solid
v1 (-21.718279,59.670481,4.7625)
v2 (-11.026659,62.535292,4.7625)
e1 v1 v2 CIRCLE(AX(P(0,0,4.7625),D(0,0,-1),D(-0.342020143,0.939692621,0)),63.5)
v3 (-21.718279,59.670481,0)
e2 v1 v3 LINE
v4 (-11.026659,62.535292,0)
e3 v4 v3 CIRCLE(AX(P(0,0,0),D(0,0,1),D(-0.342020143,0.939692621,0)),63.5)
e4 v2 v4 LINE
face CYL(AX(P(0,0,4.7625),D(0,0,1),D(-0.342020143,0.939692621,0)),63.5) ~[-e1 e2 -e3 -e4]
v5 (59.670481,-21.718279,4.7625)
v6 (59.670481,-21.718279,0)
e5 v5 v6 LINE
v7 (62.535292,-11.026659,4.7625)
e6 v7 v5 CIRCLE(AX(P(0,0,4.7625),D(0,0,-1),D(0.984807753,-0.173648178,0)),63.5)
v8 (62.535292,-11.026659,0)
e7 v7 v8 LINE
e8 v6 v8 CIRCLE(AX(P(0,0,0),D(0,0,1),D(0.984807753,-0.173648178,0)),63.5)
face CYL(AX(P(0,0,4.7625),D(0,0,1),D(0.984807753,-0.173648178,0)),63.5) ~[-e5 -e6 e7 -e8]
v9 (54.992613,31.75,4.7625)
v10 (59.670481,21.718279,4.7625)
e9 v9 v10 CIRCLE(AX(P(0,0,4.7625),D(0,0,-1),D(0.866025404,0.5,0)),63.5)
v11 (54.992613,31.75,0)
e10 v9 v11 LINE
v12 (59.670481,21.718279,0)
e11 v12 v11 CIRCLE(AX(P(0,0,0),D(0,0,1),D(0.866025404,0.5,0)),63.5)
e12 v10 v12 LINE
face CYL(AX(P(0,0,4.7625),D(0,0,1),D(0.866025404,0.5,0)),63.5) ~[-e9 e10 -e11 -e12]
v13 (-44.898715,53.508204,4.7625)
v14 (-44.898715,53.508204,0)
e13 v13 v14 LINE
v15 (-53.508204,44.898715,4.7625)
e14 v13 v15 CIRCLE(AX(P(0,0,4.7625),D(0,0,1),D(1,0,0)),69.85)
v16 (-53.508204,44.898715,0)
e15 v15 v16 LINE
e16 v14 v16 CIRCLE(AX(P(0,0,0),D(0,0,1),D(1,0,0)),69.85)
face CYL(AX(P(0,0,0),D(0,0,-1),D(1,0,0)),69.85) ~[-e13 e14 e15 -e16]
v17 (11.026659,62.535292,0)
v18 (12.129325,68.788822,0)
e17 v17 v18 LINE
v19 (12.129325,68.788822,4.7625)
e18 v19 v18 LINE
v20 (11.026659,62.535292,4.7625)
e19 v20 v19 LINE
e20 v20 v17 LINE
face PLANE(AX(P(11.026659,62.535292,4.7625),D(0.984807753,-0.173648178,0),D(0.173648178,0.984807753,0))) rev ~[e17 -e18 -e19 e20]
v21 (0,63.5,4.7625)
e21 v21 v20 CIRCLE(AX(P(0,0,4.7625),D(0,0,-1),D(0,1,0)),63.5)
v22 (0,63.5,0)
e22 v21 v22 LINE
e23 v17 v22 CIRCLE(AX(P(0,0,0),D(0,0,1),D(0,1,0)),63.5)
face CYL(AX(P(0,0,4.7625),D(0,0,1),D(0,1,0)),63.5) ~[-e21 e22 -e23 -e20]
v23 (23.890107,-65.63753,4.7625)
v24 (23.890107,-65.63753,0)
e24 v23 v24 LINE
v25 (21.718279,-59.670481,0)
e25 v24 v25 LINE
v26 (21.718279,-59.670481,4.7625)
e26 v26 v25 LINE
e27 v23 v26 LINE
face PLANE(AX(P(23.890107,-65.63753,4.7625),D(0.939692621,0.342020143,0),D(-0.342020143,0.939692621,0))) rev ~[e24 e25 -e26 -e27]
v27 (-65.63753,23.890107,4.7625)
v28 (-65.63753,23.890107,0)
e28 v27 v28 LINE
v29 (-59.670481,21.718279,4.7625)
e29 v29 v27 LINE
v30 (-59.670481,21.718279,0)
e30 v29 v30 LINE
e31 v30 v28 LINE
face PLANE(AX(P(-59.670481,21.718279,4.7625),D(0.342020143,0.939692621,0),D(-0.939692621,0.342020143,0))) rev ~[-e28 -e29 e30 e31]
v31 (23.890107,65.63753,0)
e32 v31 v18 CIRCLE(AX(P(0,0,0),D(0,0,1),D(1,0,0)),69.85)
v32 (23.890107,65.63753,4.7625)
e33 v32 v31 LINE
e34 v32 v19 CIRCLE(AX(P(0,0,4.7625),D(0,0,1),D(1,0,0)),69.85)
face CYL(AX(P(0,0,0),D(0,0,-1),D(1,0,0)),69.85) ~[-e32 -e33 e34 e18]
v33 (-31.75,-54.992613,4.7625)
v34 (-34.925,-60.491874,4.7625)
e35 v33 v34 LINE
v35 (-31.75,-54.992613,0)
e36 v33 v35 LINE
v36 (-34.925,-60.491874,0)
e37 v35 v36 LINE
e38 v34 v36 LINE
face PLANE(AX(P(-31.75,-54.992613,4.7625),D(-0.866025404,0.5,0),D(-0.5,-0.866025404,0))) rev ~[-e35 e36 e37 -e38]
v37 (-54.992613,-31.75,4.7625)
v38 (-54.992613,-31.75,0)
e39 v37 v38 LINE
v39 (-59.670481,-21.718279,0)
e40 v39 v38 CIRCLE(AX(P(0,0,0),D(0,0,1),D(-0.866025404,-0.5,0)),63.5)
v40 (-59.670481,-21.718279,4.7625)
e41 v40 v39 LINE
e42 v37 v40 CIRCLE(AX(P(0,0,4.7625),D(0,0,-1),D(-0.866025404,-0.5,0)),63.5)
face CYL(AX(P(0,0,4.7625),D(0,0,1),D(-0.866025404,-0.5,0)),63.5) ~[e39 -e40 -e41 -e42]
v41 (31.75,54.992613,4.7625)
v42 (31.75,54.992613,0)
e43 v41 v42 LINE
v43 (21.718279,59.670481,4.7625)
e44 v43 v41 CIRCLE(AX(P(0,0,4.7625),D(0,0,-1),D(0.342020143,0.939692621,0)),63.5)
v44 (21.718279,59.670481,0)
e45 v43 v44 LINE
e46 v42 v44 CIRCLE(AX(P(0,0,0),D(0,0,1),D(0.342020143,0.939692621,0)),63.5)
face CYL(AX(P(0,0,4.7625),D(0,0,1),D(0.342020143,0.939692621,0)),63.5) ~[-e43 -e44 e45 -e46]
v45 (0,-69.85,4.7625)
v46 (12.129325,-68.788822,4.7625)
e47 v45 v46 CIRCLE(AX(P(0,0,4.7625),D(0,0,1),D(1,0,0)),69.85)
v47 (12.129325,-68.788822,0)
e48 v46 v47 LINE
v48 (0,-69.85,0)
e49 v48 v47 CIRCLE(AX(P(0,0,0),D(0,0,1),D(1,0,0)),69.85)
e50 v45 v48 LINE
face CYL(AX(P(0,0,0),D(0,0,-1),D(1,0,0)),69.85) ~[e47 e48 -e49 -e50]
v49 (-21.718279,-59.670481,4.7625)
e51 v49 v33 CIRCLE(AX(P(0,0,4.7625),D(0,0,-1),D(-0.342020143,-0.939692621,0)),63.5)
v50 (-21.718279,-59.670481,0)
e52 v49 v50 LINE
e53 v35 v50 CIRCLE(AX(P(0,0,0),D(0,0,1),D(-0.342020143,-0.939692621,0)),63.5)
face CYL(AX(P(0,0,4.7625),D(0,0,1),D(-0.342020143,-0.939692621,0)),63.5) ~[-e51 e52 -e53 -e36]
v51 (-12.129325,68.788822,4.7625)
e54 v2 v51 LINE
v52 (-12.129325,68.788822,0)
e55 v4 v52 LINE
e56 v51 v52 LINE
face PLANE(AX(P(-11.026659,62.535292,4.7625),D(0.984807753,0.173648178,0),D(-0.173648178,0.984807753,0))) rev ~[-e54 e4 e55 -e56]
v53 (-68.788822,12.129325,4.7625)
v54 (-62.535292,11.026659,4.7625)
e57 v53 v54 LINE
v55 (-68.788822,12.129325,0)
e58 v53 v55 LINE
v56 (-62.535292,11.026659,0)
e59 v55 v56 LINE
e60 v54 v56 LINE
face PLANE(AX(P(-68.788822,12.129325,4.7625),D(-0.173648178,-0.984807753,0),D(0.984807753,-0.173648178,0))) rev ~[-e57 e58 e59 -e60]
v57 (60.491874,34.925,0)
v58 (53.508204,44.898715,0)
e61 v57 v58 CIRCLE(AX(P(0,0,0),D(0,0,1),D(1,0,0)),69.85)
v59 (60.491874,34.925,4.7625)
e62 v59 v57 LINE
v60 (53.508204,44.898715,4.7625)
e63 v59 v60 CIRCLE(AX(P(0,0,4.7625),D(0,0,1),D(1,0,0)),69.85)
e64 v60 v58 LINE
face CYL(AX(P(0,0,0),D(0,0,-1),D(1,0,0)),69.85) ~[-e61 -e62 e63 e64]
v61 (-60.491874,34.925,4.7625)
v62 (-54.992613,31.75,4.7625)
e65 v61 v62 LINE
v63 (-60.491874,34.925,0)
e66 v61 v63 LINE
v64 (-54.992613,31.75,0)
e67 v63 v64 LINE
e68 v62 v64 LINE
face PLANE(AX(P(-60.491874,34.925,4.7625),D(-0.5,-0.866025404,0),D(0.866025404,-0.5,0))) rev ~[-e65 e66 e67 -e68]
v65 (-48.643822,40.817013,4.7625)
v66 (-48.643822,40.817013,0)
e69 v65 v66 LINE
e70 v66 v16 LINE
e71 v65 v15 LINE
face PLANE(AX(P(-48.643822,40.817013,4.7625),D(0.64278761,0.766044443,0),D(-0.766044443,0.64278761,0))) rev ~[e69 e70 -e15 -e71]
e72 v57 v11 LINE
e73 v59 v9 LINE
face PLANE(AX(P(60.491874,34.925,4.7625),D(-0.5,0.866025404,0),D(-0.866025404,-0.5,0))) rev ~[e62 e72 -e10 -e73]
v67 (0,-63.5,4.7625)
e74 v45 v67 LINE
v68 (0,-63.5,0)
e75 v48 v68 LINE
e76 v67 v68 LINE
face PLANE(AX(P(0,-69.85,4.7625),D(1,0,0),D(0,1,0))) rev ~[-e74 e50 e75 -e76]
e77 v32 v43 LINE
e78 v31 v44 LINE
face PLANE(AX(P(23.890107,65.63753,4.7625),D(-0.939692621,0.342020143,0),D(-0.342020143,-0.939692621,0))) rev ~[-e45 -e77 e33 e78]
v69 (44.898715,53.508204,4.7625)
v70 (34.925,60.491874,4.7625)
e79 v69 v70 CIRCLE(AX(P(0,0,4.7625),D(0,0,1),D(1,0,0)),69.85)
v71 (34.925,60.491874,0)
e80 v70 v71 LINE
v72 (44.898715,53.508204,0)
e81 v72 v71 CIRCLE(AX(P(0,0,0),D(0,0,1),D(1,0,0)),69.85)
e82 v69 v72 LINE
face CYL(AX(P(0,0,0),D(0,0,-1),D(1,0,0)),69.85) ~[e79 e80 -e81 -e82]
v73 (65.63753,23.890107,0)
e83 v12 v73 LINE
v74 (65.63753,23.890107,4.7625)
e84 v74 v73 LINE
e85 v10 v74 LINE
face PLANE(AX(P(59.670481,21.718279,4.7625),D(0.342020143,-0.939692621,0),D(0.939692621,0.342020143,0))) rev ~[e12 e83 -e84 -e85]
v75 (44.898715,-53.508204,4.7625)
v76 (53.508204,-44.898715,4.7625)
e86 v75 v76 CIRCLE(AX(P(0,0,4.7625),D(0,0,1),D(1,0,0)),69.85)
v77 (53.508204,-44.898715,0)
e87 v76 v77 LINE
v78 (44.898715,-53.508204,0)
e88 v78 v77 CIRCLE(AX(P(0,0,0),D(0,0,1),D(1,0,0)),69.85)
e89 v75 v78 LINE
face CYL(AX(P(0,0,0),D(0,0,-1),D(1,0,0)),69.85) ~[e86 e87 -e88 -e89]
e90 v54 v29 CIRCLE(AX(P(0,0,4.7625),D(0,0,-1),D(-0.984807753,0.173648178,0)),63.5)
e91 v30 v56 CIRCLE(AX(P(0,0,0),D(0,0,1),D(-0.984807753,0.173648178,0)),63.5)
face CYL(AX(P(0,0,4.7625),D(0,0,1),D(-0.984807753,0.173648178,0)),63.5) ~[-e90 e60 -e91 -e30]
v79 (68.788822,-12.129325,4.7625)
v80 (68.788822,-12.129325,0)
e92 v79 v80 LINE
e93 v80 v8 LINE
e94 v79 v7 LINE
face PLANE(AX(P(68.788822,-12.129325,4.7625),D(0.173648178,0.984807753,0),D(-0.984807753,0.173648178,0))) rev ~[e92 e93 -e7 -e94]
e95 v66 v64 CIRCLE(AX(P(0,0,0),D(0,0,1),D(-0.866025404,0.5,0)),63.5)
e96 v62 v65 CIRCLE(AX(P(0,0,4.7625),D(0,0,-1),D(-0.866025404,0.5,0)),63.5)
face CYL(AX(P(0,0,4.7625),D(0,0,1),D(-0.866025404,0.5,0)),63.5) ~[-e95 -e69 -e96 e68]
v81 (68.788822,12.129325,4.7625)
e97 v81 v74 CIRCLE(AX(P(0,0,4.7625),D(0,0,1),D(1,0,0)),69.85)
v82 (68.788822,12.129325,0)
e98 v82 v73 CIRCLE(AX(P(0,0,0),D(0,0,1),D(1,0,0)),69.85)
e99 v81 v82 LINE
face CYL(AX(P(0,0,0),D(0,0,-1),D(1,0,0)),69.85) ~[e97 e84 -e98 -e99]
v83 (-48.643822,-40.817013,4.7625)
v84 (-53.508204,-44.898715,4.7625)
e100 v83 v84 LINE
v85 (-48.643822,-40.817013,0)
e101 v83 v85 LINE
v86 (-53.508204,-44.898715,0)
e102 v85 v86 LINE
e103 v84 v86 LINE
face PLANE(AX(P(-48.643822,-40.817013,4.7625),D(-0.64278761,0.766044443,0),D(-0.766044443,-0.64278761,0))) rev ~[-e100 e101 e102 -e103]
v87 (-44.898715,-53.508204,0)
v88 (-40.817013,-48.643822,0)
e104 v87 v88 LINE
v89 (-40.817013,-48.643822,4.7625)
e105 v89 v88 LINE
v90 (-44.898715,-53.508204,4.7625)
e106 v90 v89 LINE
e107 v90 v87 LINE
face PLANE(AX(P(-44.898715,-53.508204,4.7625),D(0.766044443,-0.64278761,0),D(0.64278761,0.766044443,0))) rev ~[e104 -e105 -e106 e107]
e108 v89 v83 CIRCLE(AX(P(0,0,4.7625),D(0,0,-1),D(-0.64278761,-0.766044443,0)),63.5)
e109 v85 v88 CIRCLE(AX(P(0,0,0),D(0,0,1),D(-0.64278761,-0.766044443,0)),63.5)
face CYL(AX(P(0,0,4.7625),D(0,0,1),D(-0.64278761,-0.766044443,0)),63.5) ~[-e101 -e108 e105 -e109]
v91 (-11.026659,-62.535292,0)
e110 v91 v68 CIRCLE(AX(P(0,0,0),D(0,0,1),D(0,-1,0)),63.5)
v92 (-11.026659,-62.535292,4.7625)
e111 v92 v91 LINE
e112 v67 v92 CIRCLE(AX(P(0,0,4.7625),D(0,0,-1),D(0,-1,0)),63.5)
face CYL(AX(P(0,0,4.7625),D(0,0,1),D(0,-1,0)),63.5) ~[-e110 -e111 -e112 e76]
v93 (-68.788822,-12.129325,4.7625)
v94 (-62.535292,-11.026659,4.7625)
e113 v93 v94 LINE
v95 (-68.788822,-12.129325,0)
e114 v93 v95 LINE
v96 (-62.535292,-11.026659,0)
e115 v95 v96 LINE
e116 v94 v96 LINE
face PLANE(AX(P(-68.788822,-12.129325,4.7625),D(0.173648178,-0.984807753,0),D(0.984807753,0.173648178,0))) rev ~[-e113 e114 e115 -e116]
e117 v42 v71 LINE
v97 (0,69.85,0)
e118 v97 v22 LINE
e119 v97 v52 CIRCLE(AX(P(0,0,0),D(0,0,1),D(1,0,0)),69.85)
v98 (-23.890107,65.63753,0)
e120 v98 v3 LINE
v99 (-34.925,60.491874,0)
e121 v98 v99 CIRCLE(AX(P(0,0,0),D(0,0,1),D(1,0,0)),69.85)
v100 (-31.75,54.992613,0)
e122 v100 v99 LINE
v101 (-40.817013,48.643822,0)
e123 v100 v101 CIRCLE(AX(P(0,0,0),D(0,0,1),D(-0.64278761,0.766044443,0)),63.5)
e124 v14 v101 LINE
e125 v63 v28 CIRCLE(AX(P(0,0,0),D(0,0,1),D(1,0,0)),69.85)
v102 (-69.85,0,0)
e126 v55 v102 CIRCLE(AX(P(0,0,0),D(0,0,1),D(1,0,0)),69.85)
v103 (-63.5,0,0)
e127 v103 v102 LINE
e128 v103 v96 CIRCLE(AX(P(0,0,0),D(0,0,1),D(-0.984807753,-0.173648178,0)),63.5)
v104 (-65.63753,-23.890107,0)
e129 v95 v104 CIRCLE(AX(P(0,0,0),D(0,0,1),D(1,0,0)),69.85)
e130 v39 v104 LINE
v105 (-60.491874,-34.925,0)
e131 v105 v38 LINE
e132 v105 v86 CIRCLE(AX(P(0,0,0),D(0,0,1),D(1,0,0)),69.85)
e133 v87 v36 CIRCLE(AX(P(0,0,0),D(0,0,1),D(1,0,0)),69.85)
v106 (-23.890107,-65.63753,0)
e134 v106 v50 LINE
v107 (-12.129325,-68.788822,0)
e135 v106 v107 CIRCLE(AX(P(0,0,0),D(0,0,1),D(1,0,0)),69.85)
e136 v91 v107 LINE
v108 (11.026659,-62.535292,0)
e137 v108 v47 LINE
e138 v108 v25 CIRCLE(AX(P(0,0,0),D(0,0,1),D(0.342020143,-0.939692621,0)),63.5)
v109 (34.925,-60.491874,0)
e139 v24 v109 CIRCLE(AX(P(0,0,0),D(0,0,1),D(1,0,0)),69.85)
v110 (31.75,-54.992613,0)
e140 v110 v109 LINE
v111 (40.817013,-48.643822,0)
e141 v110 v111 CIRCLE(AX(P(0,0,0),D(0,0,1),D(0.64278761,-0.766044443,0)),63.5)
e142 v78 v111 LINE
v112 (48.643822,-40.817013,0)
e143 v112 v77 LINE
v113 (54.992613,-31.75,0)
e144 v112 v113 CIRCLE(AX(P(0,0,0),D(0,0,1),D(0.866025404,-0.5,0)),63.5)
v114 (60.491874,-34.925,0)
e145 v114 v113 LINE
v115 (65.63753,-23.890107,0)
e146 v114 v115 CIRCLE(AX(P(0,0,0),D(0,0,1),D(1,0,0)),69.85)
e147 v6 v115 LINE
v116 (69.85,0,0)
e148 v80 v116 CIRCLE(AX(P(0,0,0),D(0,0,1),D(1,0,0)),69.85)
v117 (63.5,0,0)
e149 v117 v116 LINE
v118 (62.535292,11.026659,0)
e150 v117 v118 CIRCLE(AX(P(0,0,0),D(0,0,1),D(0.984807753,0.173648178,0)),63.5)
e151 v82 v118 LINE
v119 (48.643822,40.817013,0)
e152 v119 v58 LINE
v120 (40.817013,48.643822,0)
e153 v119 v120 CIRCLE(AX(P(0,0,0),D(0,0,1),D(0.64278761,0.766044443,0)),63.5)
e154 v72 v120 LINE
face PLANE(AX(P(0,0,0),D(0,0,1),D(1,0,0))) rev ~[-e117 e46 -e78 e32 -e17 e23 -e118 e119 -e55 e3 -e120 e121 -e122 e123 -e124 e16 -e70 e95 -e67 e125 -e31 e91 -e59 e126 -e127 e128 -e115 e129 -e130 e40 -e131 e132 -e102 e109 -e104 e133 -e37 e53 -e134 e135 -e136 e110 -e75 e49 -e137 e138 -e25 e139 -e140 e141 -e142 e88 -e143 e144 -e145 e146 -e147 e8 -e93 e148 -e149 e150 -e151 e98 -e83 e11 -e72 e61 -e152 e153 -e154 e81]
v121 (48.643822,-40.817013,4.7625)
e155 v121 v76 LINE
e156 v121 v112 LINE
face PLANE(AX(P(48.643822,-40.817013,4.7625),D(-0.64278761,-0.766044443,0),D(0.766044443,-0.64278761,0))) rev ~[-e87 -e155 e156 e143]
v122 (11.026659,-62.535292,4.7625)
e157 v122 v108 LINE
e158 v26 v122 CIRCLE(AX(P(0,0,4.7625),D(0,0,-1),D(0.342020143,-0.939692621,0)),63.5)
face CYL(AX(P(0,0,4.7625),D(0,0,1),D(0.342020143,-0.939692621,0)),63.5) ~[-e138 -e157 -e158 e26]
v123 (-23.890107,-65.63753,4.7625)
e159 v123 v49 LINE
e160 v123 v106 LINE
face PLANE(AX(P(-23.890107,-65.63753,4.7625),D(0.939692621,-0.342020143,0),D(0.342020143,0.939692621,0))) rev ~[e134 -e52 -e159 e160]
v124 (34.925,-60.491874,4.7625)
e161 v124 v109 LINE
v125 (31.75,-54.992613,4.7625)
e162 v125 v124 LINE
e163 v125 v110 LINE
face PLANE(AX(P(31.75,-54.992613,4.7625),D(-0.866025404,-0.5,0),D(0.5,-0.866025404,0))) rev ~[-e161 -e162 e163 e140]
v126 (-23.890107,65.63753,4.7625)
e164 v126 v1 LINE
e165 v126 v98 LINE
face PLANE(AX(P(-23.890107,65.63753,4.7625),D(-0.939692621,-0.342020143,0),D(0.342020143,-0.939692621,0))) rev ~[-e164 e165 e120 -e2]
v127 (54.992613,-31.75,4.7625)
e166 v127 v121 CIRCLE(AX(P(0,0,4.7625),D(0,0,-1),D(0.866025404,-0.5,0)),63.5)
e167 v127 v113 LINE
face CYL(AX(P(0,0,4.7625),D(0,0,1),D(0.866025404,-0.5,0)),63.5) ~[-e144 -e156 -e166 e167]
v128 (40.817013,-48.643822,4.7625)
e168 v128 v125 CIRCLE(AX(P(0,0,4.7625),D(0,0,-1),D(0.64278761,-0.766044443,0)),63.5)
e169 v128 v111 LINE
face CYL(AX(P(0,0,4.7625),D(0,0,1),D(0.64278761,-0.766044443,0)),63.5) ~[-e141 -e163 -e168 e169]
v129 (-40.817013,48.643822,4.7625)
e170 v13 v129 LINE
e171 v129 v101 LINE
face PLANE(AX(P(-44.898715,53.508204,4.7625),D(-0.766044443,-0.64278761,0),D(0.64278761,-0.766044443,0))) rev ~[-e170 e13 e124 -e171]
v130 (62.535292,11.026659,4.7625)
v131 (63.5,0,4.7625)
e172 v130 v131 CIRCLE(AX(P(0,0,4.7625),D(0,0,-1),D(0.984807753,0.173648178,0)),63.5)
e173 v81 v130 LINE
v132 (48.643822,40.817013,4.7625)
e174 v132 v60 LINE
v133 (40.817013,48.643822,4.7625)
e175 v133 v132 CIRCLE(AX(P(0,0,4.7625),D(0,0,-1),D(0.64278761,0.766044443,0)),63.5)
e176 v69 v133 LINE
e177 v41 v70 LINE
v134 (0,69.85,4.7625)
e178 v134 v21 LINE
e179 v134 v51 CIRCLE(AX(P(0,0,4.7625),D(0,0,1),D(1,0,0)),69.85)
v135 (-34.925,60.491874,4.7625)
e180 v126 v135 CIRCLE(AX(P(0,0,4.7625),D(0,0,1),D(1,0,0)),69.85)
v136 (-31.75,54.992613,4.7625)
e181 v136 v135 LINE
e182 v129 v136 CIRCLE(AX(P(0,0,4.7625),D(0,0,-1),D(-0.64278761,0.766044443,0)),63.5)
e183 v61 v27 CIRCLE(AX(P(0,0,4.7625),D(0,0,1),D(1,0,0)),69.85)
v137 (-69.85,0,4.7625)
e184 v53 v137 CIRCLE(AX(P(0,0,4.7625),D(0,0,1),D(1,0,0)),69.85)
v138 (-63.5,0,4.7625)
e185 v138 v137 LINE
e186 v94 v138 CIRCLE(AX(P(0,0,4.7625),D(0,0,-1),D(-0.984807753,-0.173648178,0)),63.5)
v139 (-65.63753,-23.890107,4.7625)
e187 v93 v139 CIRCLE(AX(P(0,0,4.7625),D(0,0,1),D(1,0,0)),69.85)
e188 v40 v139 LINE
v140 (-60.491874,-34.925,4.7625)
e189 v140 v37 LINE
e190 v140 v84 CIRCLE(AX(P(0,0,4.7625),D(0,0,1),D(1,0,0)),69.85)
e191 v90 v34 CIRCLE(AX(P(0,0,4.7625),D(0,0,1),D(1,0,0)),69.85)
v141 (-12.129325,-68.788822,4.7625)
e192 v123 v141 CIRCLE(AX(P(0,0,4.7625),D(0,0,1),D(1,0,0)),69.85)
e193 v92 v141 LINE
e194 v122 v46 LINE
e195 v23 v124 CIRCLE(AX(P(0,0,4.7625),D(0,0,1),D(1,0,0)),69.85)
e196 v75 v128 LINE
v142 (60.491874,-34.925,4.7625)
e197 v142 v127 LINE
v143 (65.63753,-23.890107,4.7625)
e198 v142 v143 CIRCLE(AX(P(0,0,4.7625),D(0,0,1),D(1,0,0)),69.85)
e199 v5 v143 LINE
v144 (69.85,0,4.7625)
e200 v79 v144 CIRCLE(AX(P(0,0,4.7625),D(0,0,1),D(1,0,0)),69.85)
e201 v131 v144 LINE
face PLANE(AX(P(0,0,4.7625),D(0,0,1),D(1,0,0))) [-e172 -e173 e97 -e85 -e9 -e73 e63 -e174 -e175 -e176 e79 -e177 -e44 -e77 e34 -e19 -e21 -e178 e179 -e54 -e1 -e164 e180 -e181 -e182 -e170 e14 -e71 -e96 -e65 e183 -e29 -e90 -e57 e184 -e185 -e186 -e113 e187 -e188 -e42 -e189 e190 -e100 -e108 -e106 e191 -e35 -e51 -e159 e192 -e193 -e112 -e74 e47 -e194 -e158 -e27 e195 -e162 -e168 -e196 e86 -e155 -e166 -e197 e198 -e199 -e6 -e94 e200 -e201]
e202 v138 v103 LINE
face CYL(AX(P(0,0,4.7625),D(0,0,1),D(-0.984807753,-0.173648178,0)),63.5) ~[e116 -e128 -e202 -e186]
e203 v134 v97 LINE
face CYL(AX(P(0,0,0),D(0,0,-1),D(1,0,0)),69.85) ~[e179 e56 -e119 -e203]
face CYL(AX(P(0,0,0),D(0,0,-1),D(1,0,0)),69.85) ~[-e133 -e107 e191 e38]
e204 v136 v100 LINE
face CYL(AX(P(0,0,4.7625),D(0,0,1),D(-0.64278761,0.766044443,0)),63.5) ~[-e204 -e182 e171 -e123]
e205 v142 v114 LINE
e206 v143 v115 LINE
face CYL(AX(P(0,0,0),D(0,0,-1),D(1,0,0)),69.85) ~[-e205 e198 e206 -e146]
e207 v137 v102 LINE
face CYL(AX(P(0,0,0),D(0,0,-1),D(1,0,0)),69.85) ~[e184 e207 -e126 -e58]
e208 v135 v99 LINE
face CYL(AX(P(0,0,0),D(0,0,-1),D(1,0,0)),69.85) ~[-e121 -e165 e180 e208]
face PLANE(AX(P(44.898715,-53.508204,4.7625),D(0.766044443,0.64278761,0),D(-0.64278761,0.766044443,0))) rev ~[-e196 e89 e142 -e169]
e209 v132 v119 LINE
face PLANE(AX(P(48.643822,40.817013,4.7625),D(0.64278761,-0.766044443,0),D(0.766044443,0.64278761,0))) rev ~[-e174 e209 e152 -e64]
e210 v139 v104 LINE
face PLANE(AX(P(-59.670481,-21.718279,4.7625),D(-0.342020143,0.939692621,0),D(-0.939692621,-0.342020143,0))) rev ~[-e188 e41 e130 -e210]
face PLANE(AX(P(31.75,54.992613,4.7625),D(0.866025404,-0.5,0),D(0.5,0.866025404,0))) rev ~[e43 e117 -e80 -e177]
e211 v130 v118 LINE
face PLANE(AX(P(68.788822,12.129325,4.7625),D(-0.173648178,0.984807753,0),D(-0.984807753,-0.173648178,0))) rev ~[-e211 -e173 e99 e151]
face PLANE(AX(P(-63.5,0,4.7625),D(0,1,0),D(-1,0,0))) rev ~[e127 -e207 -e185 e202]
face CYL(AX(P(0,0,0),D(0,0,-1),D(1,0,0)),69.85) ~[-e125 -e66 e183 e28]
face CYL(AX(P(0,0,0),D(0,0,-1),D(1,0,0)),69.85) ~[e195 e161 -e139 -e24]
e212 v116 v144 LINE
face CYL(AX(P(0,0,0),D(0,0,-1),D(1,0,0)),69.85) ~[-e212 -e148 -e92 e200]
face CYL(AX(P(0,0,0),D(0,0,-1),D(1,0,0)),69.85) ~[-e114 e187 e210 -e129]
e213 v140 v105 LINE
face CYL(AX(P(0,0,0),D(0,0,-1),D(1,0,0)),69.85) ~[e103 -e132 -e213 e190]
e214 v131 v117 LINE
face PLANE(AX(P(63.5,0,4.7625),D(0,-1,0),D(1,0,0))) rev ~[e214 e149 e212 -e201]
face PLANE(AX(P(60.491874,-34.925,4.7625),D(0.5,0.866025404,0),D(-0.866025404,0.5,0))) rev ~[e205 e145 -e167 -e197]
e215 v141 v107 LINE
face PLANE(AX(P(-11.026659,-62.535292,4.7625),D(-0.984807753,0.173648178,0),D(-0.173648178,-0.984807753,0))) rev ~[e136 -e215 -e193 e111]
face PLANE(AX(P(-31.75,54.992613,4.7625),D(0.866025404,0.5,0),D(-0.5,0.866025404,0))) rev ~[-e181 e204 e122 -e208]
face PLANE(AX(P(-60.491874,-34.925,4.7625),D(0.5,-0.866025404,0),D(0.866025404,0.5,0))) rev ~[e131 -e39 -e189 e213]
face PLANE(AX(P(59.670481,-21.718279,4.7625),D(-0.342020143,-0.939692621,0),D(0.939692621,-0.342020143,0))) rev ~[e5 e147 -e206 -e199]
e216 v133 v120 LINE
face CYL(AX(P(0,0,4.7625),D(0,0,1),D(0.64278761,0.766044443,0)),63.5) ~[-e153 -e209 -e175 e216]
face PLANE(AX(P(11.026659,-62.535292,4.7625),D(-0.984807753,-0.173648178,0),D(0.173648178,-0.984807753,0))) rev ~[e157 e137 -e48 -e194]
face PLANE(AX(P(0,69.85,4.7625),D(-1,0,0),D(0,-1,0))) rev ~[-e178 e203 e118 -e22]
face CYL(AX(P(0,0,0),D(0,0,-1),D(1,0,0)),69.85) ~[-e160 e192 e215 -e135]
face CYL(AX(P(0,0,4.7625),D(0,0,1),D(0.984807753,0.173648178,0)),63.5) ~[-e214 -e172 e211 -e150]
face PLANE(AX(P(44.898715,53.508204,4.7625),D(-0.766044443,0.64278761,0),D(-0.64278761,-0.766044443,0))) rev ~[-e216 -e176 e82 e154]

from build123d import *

# Parameters (mm, degrees)
F0_R     = 69.85
F1_DEPTH = 4.7625
F3_DEPTH = 25.4


with BuildPart() as f1:
    # F0 (on Top) → F1 (new body)
    with BuildSketch(Plane.XY):
        Circle(F0_R)
    extrude(amount=F1_DEPTH)

    # F2 (on face) → F3 (cut)
    with BuildSketch(Plane.XY.offset(4.7625)):
        with BuildLine():
            ThreePointArc((12.12932521, 68.7888215479), (6.0878286309, 69.5841996617), (0, 69.85))
            Line((0, 69.85), (0, 63.5))
            ThreePointArc((0, 63.5), (5.5343896645, 63.2583633288), (11.0266592819, 62.5352923163))
            Line((11.0266592819, 62.5352923163), (12.12932521, 68.7888215479))
        make_face()
        with BuildLine():
            ThreePointArc((-12.12932521, 68.7888215479), (-18.0785103004, 67.4699189663), (-23.8901070113, 65.6375295619))
            Line((-23.8901070113, 65.6375295619), (-21.7182791012, 59.6704814199))
            ThreePointArc((-21.7182791012, 59.6704814199), (-16.435009364, 61.3362899694), (-11.0266592819, 62.5352923163))
            Line((-11.0266592819, 62.5352923163), (-12.12932521, 68.7888215479))
        make_face()
        with BuildLine():
            ThreePointArc((-34.925, 60.4918744543), (-40.0643140791, 57.2177702936), (-44.8987145366, 53.5082043519))
            Line((-44.8987145366, 53.5082043519), (-40.8170132151, 48.6438221381))
            ThreePointArc((-40.8170132151, 48.6438221381), (-36.4221037083, 52.0161548124), (-31.75, 54.9926131403))
            Line((-31.75, 54.9926131403), (-34.925, 60.4918744543))
        make_face()
        with BuildLine():
            ThreePointArc((-53.5082043519, 44.8987145366), (-57.2177702936, 40.0643140791), (-60.4918744543, 34.925))
            Line((-60.4918744543, 34.925), (-54.9926131403, 31.75))
            ThreePointArc((-54.9926131403, 31.75), (-52.0161548124, 36.4221037083), (-48.6438221381, 40.8170132151))
            Line((-48.6438221381, 40.8170132151), (-53.5082043519, 44.8987145366))
        make_face()
        with BuildLine():
            ThreePointArc((-65.6375295619, 23.8901070113), (-67.4699189663, 18.0785103004), (-68.7888215479, 12.12932521))
            Line((-68.7888215479, 12.12932521), (-62.5352923163, 11.0266592819))
            ThreePointArc((-62.5352923163, 11.0266592819), (-61.3362899694, 16.435009364), (-59.6704814199, 21.7182791012))
            Line((-59.6704814199, 21.7182791012), (-65.6375295619, 23.8901070113))
        make_face()
        with BuildLine():
            ThreePointArc((-69.85, 0), (-69.5841996617, -6.0878286309), (-68.7888215479, -12.12932521))
            Line((-68.7888215479, -12.12932521), (-62.5352923163, -11.0266592819))
            ThreePointArc((-62.5352923163, -11.0266592819), (-63.2583633288, -5.5343896645), (-63.5, 0))
            Line((-63.5, 0), (-69.85, 0))
        make_face()
        with BuildLine():
            ThreePointArc((-65.6375295619, -23.8901070113), (-63.3055989245, -29.5198855826), (-60.4918744543, -34.925))
            Line((-60.4918744543, -34.925), (-54.9926131403, -31.75))
            ThreePointArc((-54.9926131403, -31.75), (-57.5505444768, -26.8362596205), (-59.6704814199, -21.7182791012))
            Line((-59.6704814199, -21.7182791012), (-65.6375295619, -23.8901070113))
        make_face()
        with BuildLine():
            ThreePointArc((-53.5082043519, -44.8987145366), (-49.3914086659, -49.3914086659), (-44.8987145366, -53.5082043519))
            Line((-44.8987145366, -53.5082043519), (-40.8170132151, -48.6438221381))
            ThreePointArc((-40.8170132151, -48.6438221381), (-44.9012806053, -44.9012806053), (-48.6438221381, -40.8170132151))
            Line((-48.6438221381, -40.8170132151), (-53.5082043519, -44.8987145366))
        make_face()
        with BuildLine():
            ThreePointArc((-34.925, -60.4918744543), (-29.5198855826, -63.3055989245), (-23.8901070113, -65.6375295619))
            Line((-23.8901070113, -65.6375295619), (-21.7182791012, -59.6704814199))
            ThreePointArc((-21.7182791012, -59.6704814199), (-26.8362596205, -57.5505444768), (-31.75, -54.9926131403))
            Line((-31.75, -54.9926131403), (-34.925, -60.4918744543))
        make_face()
        with BuildLine():
            ThreePointArc((-12.12932521, -68.7888215479), (-6.0878286309, -69.5841996617), (0, -69.85))
            Line((0, -69.85), (0, -63.5))
            ThreePointArc((0, -63.5), (-5.5343896645, -63.2583633288), (-11.0266592819, -62.5352923163))
            Line((-11.0266592819, -62.5352923163), (-12.12932521, -68.7888215479))
        make_face()
        with BuildLine():
            ThreePointArc((12.12932521, -68.7888215479), (18.0785103004, -67.4699189663), (23.8901070113, -65.6375295619))
            Line((23.8901070113, -65.6375295619), (21.7182791012, -59.6704814199))
            ThreePointArc((21.7182791012, -59.6704814199), (16.435009364, -61.3362899694), (11.0266592819, -62.5352923163))
            Line((11.0266592819, -62.5352923163), (12.12932521, -68.7888215479))
        make_face()
        with BuildLine():
            ThreePointArc((34.925, -60.4918744543), (40.0643140791, -57.2177702936), (44.8987145366, -53.5082043519))
            Line((44.8987145366, -53.5082043519), (40.8170132151, -48.6438221381))
            ThreePointArc((40.8170132151, -48.6438221381), (36.4221037083, -52.0161548124), (31.75, -54.9926131403))
            Line((31.75, -54.9926131403), (34.925, -60.4918744543))
        make_face()
        with BuildLine():
            ThreePointArc((53.5082043519, -44.8987145366), (57.2177702936, -40.0643140791), (60.4918744543, -34.925))
            Line((60.4918744543, -34.925), (54.9926131403, -31.75))
            ThreePointArc((54.9926131403, -31.75), (52.0161548124, -36.4221037083), (48.6438221381, -40.8170132151))
            Line((48.6438221381, -40.8170132151), (53.5082043519, -44.8987145366))
        make_face()
        with BuildLine():
            ThreePointArc((65.6375295619, -23.8901070113), (67.4699189663, -18.0785103004), (68.7888215479, -12.12932521))
            Line((68.7888215479, -12.12932521), (62.5352923163, -11.0266592819))
            ThreePointArc((62.5352923163, -11.0266592819), (61.3362899694, -16.435009364), (59.6704814199, -21.7182791012))
            Line((59.6704814199, -21.7182791012), (65.6375295619, -23.8901070113))
        make_face()
        with BuildLine():
            ThreePointArc((69.85, 0), (69.5841996617, 6.0878286309), (68.7888215479, 12.12932521))
            Line((68.7888215479, 12.12932521), (62.5352923163, 11.0266592819))
            ThreePointArc((62.5352923163, 11.0266592819), (63.2583633288, 5.5343896645), (63.5, 0))
            Line((63.5, 0), (69.85, 0))
        make_face()
        with BuildLine():
            ThreePointArc((65.6375295619, 23.8901070113), (63.3055989245, 29.5198855826), (60.4918744543, 34.925))
            Line((60.4918744543, 34.925), (54.9926131403, 31.75))
            ThreePointArc((54.9926131403, 31.75), (57.5505444768, 26.8362596205), (59.6704814199, 21.7182791012))
            Line((59.6704814199, 21.7182791012), (65.6375295619, 23.8901070113))
        make_face()
        with BuildLine():
            ThreePointArc((53.5082043519, 44.8987145366), (49.3914086659, 49.3914086659), (44.8987145366, 53.5082043519))
            Line((44.8987145366, 53.5082043519), (40.8170132151, 48.6438221381))
            ThreePointArc((40.8170132151, 48.6438221381), (44.9012806053, 44.9012806053), (48.6438221381, 40.8170132151))
            Line((48.6438221381, 40.8170132151), (53.5082043519, 44.8987145366))
        make_face()
        with BuildLine():
            ThreePointArc((34.925, 60.4918744543), (29.5198855826, 63.3055989245), (23.8901070113, 65.6375295619))
            Line((23.8901070113, 65.6375295619), (21.7182791012, 59.6704814199))
            ThreePointArc((21.7182791012, 59.6704814199), (26.8362596205, 57.5505444768), (31.75, 54.9926131403))
            Line((31.75, 54.9926131403), (34.925, 60.4918744543))
        make_face()
    extrude(amount=-F3_DEPTH, mode=Mode.SUBTRACT)


solid = f1.part
